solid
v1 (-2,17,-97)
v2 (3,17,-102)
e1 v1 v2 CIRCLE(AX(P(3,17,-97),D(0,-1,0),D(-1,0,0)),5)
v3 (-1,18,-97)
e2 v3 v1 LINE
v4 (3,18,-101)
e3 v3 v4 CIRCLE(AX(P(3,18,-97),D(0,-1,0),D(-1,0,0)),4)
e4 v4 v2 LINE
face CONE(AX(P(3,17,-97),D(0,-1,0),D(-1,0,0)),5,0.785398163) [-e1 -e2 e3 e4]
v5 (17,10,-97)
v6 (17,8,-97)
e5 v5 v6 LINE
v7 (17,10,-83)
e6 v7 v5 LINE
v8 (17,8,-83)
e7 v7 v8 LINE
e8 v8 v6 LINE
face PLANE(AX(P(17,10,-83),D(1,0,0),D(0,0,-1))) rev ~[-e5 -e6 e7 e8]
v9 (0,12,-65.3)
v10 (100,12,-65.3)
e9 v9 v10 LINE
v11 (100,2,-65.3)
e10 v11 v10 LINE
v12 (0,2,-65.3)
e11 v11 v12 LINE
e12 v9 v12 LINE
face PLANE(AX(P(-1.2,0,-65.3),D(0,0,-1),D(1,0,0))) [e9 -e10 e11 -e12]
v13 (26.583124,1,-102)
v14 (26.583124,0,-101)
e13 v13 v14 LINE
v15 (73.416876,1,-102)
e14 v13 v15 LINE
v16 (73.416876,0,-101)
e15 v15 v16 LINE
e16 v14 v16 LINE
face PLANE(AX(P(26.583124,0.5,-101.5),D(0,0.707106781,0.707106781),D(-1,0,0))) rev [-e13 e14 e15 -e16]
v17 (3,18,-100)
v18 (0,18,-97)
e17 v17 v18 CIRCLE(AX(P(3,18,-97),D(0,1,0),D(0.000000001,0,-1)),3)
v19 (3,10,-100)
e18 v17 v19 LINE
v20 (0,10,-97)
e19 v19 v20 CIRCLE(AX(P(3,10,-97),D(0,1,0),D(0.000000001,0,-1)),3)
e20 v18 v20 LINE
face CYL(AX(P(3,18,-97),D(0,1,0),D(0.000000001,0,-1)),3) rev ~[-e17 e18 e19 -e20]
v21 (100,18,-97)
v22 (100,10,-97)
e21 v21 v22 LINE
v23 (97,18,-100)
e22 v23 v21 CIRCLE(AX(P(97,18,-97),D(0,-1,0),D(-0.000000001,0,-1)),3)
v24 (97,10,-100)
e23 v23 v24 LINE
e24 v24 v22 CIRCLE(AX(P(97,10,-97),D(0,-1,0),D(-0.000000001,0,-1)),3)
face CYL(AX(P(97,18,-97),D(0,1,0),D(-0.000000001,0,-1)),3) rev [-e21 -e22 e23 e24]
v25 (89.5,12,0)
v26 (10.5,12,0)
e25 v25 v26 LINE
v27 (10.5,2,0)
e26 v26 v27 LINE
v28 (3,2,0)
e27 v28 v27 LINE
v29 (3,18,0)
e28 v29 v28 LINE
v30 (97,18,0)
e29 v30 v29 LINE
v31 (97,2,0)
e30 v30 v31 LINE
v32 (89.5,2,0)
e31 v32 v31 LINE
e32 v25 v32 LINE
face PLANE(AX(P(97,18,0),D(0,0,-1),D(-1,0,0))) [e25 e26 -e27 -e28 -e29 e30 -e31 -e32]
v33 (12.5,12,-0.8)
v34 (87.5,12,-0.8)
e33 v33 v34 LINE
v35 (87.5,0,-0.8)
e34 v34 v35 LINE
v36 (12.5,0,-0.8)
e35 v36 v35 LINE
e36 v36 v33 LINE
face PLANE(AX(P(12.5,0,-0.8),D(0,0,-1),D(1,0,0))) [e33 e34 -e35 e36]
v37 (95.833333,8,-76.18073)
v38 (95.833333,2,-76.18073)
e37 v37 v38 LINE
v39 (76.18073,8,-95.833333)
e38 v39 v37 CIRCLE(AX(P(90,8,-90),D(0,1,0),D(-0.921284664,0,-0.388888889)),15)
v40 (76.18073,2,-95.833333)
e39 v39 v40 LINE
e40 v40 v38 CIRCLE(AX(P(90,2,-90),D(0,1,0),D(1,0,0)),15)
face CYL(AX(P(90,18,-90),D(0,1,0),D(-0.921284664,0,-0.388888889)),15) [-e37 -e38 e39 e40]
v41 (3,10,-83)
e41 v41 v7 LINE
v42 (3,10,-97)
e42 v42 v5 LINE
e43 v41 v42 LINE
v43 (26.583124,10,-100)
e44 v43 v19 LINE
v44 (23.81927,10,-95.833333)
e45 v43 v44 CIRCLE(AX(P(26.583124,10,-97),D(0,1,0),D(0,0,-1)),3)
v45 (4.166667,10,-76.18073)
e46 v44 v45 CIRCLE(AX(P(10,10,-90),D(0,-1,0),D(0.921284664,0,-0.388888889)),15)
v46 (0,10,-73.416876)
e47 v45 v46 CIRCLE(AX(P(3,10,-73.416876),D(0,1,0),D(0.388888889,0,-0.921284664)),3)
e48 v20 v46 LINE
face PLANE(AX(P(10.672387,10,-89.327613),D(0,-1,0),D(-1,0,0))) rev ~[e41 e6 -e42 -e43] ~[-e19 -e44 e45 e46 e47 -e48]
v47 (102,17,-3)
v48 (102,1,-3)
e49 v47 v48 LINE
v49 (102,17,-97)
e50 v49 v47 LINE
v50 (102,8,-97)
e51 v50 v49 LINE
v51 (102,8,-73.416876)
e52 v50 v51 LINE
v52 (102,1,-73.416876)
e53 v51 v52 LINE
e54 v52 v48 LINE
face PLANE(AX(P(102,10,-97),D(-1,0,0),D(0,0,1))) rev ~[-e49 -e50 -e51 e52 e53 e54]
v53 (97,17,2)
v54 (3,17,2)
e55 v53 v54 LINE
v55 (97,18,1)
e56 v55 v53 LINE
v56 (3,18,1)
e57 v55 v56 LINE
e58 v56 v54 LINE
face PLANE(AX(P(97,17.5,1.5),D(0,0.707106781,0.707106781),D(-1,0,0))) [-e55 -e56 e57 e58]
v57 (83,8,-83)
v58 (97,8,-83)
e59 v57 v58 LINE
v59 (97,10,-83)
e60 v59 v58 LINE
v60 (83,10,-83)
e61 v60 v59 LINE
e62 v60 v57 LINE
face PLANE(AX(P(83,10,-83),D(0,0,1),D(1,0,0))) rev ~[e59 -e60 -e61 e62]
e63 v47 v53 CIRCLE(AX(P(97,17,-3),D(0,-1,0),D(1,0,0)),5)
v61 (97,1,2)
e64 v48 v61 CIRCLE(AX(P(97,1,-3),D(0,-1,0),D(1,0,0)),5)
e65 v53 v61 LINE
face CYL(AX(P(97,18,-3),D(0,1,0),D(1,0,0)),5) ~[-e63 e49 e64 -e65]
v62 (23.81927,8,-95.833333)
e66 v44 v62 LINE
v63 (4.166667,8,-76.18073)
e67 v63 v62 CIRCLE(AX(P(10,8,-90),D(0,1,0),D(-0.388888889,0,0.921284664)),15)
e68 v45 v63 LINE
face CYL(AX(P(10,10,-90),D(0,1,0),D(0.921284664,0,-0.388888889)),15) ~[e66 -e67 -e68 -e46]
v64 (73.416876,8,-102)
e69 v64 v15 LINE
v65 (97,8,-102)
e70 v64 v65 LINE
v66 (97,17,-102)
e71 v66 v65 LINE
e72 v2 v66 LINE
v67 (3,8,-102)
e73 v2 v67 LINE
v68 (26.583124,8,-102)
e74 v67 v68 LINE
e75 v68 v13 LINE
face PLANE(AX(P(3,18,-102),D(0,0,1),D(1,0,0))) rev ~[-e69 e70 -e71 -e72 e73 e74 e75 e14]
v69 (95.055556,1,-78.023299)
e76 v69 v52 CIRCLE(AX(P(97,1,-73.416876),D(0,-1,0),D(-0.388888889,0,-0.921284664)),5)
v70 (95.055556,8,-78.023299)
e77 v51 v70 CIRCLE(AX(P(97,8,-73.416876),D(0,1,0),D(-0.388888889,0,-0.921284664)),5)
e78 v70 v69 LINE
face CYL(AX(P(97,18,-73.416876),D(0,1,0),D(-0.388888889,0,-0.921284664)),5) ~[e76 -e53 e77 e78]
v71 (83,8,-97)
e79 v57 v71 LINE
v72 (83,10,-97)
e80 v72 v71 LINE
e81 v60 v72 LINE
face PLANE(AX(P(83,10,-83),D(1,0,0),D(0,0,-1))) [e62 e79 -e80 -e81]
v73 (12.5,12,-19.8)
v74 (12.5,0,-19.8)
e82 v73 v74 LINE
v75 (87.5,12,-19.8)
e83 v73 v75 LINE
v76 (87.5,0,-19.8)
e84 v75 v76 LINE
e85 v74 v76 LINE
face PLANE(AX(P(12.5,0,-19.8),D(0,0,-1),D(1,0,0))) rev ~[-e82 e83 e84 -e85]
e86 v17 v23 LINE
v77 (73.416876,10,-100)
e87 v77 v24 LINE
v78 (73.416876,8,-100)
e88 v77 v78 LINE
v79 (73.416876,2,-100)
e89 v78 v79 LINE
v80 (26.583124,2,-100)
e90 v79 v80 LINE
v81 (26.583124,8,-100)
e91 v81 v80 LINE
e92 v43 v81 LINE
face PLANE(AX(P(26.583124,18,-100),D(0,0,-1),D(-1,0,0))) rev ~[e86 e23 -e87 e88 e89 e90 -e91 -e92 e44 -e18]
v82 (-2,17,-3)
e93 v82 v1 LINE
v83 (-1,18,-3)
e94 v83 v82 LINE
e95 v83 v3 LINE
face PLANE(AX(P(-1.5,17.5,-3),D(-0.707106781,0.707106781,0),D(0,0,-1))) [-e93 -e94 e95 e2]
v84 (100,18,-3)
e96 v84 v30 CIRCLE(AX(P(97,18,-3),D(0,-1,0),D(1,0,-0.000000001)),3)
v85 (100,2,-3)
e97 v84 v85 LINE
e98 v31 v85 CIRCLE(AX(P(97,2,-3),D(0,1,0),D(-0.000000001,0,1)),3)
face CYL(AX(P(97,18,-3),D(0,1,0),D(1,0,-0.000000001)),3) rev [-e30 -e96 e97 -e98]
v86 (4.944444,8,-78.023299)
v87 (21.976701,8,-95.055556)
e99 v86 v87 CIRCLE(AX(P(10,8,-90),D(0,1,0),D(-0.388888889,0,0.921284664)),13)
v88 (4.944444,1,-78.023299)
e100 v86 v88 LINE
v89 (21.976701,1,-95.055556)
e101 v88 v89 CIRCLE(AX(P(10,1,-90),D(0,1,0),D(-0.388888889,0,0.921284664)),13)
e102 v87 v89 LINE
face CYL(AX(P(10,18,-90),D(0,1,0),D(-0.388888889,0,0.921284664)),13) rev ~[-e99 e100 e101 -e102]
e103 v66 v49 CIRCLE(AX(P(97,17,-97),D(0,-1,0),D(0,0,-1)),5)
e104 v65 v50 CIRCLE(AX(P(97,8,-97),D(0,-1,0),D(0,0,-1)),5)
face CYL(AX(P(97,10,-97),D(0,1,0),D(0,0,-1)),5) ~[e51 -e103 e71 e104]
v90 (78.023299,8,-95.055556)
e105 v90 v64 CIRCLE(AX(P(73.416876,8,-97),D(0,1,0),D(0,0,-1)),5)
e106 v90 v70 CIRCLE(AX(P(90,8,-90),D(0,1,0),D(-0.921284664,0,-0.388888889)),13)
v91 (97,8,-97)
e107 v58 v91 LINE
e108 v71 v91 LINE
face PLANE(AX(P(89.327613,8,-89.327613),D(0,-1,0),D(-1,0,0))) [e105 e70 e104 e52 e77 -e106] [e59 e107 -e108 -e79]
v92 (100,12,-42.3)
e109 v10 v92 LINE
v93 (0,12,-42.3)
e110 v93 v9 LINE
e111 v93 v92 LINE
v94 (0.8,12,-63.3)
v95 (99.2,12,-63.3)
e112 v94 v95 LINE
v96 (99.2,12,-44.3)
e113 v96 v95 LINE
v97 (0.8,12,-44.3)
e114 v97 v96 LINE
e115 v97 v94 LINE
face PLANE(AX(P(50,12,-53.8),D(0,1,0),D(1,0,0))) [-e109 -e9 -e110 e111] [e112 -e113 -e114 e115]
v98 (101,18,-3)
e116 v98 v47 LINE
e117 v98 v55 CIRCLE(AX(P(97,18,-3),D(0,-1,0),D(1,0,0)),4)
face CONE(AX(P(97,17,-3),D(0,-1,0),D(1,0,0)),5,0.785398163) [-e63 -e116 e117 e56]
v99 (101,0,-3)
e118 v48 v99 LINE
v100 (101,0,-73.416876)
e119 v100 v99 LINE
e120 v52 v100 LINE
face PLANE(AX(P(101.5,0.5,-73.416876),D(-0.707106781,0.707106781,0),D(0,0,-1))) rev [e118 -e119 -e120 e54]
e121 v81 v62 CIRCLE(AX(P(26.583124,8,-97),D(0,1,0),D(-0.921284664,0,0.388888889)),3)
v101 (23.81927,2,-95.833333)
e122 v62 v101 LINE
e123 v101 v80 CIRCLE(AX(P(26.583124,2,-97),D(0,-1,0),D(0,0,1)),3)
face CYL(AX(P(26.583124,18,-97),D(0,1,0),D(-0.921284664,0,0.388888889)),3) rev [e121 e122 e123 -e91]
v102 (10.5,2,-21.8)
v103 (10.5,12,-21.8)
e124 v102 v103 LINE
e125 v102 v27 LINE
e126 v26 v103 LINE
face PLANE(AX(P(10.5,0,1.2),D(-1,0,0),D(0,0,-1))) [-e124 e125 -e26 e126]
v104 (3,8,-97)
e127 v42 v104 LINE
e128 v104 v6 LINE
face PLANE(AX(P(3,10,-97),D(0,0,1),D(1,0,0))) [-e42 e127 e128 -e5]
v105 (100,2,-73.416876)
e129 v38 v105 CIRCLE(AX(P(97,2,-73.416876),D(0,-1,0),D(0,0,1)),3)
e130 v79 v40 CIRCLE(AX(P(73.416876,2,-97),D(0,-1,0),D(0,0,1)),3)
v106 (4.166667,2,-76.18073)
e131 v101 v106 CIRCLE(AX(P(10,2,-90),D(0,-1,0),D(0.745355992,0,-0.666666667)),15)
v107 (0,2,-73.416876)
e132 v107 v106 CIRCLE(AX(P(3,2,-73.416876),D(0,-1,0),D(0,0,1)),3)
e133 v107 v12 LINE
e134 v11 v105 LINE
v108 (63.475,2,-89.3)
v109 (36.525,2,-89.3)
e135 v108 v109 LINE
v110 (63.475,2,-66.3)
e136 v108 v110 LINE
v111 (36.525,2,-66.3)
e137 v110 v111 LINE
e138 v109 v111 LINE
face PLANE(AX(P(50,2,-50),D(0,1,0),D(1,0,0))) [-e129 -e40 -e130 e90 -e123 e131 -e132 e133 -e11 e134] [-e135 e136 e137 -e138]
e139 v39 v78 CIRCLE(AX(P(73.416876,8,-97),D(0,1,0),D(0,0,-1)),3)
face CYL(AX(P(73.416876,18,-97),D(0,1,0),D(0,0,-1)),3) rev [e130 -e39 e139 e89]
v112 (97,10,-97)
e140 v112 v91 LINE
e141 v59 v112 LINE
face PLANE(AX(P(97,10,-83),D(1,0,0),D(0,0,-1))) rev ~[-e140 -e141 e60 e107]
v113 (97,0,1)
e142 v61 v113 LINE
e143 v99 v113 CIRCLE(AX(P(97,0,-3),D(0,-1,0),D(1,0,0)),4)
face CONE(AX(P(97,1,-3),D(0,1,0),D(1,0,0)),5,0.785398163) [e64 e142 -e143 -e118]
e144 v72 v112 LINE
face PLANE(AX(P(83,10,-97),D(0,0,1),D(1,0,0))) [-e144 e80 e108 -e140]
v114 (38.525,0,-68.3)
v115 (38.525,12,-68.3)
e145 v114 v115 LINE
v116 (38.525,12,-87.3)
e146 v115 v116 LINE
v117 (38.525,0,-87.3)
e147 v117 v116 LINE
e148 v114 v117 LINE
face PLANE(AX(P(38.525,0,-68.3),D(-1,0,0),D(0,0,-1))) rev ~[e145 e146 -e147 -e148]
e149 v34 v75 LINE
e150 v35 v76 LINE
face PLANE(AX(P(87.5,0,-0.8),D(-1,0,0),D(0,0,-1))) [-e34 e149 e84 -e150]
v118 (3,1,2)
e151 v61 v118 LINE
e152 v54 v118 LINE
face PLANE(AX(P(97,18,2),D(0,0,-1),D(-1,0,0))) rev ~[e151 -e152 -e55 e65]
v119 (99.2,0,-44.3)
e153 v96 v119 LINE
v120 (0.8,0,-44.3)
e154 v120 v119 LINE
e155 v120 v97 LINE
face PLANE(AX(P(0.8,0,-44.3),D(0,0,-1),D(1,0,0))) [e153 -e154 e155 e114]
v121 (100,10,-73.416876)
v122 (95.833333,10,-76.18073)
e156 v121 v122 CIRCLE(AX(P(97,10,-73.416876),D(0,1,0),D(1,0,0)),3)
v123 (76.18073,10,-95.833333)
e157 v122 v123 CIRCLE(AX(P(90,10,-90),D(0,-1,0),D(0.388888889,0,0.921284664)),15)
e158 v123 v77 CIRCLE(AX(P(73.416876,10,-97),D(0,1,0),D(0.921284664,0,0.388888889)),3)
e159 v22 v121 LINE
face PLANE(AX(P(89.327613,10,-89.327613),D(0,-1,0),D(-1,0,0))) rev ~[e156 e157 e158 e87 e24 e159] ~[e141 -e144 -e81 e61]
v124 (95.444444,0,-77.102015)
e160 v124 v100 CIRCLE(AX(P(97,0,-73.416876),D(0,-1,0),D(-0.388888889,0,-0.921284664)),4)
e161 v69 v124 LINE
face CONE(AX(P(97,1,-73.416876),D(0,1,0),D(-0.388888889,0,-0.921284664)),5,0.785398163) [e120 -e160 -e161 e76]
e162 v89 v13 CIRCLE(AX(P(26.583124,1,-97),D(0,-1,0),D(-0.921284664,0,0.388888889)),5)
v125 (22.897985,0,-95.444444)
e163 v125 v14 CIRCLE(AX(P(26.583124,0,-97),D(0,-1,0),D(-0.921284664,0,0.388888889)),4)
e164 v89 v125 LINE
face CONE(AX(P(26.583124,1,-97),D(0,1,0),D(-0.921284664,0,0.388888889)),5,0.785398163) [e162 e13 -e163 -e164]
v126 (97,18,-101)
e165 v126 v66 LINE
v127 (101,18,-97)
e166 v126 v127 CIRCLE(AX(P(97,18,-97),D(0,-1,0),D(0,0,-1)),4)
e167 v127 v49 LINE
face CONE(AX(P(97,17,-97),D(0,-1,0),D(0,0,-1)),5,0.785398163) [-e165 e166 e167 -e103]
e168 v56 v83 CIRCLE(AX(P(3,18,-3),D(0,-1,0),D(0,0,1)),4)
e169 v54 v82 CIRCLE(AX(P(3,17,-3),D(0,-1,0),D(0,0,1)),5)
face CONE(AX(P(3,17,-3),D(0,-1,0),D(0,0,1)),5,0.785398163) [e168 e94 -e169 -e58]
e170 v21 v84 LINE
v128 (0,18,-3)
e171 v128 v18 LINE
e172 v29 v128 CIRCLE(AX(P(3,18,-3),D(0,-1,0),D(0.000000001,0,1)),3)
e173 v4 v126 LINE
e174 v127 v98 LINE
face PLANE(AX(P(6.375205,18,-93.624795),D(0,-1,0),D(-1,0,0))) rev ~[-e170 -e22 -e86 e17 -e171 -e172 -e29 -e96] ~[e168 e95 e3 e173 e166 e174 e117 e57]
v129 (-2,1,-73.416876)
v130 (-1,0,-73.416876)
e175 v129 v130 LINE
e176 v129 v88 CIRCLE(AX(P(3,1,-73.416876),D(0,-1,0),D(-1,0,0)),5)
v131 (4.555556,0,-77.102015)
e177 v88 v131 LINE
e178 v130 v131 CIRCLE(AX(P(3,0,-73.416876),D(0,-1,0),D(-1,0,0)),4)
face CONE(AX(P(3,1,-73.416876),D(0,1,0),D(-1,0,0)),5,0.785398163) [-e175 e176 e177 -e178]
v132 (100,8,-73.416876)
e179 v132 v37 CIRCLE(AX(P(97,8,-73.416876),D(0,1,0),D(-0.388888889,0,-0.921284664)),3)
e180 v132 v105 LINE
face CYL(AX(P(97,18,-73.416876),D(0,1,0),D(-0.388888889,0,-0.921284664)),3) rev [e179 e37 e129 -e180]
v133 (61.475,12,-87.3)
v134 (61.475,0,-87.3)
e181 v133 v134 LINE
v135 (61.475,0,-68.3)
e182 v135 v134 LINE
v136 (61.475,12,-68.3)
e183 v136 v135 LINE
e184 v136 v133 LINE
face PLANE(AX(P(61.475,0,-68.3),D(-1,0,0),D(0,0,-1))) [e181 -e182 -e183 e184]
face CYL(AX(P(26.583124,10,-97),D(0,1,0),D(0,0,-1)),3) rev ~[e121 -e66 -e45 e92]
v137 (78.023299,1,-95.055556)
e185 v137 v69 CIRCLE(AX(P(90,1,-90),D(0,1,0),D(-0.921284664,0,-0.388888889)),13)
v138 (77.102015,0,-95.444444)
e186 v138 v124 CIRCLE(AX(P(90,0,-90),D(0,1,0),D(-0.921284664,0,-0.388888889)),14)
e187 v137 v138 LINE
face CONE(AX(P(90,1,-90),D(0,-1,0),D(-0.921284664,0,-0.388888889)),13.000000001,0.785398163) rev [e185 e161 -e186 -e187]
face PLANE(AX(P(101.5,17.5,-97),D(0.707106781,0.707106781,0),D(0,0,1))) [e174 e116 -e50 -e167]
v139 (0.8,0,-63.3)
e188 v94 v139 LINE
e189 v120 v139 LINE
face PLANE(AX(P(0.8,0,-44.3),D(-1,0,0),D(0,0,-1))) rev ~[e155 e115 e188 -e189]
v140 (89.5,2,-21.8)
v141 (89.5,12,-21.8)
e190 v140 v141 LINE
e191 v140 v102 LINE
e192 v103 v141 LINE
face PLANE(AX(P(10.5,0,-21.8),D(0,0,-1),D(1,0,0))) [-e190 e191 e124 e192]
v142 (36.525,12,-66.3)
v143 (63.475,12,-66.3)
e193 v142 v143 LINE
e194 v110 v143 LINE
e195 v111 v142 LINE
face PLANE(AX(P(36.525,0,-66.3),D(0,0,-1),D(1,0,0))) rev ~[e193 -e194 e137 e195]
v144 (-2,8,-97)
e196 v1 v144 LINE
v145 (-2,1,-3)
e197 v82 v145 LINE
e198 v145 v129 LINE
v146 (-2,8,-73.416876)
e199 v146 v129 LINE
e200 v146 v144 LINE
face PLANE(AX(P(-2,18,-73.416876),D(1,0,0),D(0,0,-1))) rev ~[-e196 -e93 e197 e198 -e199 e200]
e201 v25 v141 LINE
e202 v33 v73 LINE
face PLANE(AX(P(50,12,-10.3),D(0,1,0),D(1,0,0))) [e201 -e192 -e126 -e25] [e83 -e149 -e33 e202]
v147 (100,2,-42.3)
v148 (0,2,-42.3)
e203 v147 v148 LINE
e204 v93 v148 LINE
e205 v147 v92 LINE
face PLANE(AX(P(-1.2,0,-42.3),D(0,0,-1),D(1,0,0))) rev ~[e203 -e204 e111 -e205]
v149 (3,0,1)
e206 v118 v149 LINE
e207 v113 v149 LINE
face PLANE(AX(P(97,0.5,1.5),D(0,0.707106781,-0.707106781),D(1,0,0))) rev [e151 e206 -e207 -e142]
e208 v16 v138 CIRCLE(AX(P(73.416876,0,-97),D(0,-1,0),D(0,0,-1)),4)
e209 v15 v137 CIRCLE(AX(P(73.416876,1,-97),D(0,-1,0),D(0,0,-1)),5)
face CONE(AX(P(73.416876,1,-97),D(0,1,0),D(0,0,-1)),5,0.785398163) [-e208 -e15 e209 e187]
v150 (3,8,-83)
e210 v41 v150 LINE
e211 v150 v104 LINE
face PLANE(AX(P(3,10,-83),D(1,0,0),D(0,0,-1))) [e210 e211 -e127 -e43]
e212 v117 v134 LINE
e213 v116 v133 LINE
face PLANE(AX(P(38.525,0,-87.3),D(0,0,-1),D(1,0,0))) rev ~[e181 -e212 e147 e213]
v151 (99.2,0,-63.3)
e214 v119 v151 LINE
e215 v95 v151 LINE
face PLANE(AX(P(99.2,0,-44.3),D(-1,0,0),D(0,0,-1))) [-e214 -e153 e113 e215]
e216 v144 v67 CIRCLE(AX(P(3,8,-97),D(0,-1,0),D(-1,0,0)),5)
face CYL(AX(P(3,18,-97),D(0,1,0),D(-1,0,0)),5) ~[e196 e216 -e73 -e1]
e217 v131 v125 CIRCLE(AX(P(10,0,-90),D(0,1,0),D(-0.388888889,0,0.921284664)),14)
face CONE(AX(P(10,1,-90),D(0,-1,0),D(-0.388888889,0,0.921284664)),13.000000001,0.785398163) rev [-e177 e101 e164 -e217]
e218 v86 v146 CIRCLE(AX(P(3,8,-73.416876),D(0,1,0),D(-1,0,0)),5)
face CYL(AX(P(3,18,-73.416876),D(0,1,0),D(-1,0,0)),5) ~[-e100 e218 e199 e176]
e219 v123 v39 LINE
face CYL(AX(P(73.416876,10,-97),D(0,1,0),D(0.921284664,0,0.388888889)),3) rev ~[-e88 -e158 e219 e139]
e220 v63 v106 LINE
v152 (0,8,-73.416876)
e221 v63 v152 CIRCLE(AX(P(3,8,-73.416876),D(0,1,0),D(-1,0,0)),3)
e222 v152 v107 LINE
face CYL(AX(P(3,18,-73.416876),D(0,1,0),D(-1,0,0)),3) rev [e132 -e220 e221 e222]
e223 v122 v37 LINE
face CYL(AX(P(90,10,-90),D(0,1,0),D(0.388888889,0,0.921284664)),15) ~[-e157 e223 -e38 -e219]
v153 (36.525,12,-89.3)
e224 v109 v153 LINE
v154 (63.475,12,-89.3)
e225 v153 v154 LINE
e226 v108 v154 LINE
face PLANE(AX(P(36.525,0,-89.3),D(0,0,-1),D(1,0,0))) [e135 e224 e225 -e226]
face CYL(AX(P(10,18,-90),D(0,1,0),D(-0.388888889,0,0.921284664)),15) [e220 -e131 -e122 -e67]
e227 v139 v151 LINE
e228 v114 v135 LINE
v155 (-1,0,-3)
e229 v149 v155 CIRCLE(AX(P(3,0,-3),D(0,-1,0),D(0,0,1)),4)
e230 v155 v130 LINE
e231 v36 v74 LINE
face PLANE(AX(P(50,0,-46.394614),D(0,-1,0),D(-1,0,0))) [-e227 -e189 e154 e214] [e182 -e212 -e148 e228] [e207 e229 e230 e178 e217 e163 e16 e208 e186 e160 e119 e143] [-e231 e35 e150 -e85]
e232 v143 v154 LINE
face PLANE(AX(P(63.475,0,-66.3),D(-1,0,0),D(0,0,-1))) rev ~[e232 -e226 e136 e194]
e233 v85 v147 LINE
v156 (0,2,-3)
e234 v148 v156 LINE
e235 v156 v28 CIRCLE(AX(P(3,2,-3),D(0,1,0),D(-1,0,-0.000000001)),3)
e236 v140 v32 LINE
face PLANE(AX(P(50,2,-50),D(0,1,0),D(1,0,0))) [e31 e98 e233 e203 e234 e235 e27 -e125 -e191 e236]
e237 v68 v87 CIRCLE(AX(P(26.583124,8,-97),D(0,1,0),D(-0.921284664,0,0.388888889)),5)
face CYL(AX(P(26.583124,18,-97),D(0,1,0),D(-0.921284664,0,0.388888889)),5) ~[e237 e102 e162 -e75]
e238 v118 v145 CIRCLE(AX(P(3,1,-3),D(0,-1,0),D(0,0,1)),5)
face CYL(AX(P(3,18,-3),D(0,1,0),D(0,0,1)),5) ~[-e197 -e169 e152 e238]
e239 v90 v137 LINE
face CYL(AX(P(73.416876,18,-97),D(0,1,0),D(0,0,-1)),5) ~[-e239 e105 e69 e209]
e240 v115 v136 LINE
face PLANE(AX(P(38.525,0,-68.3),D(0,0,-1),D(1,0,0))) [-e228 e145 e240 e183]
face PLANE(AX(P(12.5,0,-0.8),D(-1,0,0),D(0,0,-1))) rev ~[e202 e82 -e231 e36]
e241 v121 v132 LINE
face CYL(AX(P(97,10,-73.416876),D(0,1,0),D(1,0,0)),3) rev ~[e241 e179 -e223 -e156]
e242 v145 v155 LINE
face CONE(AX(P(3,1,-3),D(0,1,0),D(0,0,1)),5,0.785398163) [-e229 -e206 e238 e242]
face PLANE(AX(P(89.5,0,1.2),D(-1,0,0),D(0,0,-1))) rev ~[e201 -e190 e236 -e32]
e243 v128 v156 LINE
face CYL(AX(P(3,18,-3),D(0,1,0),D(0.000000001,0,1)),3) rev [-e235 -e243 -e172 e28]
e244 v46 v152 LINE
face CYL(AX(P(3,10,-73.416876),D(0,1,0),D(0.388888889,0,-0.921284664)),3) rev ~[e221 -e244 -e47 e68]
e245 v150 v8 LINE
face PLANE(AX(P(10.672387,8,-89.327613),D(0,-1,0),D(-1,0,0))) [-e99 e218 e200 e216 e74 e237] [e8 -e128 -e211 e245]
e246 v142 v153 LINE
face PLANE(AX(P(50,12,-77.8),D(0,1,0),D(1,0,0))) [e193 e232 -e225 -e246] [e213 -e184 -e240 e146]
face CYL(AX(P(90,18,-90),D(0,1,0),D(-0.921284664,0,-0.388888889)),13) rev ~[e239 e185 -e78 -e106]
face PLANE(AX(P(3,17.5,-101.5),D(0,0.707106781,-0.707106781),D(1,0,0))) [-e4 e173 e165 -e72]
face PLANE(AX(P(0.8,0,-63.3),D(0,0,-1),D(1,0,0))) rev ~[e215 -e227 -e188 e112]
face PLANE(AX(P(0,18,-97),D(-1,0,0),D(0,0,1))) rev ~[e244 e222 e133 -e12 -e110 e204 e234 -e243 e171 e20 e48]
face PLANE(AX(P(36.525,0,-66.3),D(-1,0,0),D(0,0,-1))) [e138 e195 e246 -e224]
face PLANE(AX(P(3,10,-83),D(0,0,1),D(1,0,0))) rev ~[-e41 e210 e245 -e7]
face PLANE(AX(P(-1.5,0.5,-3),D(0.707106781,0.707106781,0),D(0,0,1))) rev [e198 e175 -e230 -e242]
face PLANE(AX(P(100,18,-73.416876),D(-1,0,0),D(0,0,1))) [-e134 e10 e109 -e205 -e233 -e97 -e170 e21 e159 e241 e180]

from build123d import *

# Parameters (mm, degrees)
SKETCH_1_W          = 22.95
SKETCH_1_H          = 19
SKETCH_1_W_2        = 75
SKETCH_1_W_3        = 98.4
EXTRUDE_7_DEPTH     = 2
SKETCH_4_R          = 15
CUT_EXTRUDE_1_DEPTH = 18
FILLET_1_R          = 3
FILLET_2_R          = 3
SKETCH_1_6_W        = 26.95
SKETCH_1_6_H        = 23
SKETCH_1_6_W_2      = 22.95
SKETCH_1_6_H_2      = 19
EXTRUDE_3_DEPTH     = 12
SKETCH_1_7_W        = 102.4
SKETCH_1_7_H        = 23
SKETCH_1_7_W_2      = 98.4
SKETCH_1_7_H_2      = 19
EXTRUDE_4_DEPTH     = 12
SKETCH_1_8_W        = 79
SKETCH_1_8_H        = 23
SKETCH_1_8_W_2      = 75
SKETCH_1_8_H_2      = 19
EXTRUDE_5_DEPTH     = 12
EXTRUDE_START       = 16
EXTRUDE_7_2_DEPTH   = 18
SKETCH_11_W         = 28.583123952
SKETCH_11_H         = 28.583123952
CUT_EXTRUDE_8_DEPTH = 10
EXTRUDE_START_2     = 2
SKETCH_13_W         = 14
SKETCH_13_H         = 14
EXTRUDE_8_DEPTH     = 2
SKETCH_15_W         = 14
SKETCH_15_H         = 14
EXTRUDE_9_DEPTH     = 2
EXTRUDE_START_3     = 8
EXTRUDE_12_DEPTH    = 8
CHAMFER_1_SIZE      = 1
CHAMFER_2_SIZE      = 1


with BuildPart() as part:
    # 草图1 → Extrude 7 (new body)
    with BuildSketch(Plane(origin=(0, 0, 0), x_dir=(1, 0, 0), z_dir=(0, 1, 0))):
        with BuildLine():
            Line((3, 0), (97, 0))
            ThreePointArc((97, 0), (99.121320344, 0.878679656), (100, 3))
            Line((100, 3), (100, 97))
            ThreePointArc((100, 97), (99.121320344, 99.121320344), (97, 100))
            Line((97, 100), (3, 100))
            ThreePointArc((3, 100), (0.878679656, 99.121320344), (0, 97))
            Line((0, 97), (0, 3))
            ThreePointArc((0, 3), (0.878679656, 0.878679656), (3, 0))
        make_face()
        with Locations((50, 77.8)):
            Rectangle(SKETCH_1_W, SKETCH_1_H, mode=Mode.SUBTRACT)
        with Locations((50, 10.3)):
            Rectangle(SKETCH_1_W_2, SKETCH_1_H, mode=Mode.SUBTRACT)
        with Locations((50, 53.8)):
            Rectangle(SKETCH_1_W_3, SKETCH_1_H, mode=Mode.SUBTRACT)
    extrude(amount=EXTRUDE_7_DEPTH)

    # 草图4 → 切除-拉伸1 (cut)
    with BuildSketch(Plane(origin=(0, 2, 0), x_dir=(1, 0, 0), z_dir=(0, 1, 0))):
        with Locations((10, 90)):
            Circle(SKETCH_4_R)
        with Locations((90, 90)):
            Circle(SKETCH_4_R)
    extrude(amount=-CUT_EXTRUDE_1_DEPTH, mode=Mode.SUBTRACT)

    # 圆角1
    fillet_1_edges = [part.edges().sort_by_distance(p)[0] for p in [
        (21.180339887, 1, -100),
        (0, 1, -78.819660113),
    ]]
    fillet(fillet_1_edges, radius=FILLET_1_R)

    # 圆角2
    fillet_2_edges = [part.edges().sort_by_distance(p)[0] for p in [
        (78.819660113, 1, -100),
        (100, 1, -78.819660113),
    ]]
    fillet(fillet_2_edges, radius=FILLET_2_R)

    # 草图1<6> → 拉伸-薄壁3 (add)
    with BuildSketch(Plane(origin=(0, 0, 0), x_dir=(1, 0, 0), z_dir=(0, 1, 0))):
        with Locations((50, 77.8)):
            Rectangle(SKETCH_1_6_W, SKETCH_1_6_H)
        with Locations((50, 77.8)):
            Rectangle(SKETCH_1_6_W_2, SKETCH_1_6_H_2, mode=Mode.SUBTRACT)
    extrude(amount=EXTRUDE_3_DEPTH)

    # 草图1<7> → 拉伸-薄壁4 (add)
    with BuildSketch(Plane(origin=(0, 0, 0), x_dir=(1, 0, 0), z_dir=(0, 1, 0))):
        with Locations((50, 53.8)):
            Rectangle(SKETCH_1_7_W, SKETCH_1_7_H)
        with Locations((50, 53.8)):
            Rectangle(SKETCH_1_7_W_2, SKETCH_1_7_H_2, mode=Mode.SUBTRACT)
    extrude(amount=EXTRUDE_4_DEPTH)

    # 草图1<8> → 拉伸-薄壁5 (add)
    with BuildSketch(Plane(origin=(0, 0, 0), x_dir=(1, 0, 0), z_dir=(0, 1, 0))):
        with Locations((50, 10.3)):
            Rectangle(SKETCH_1_8_W, SKETCH_1_8_H)
        with Locations((50, 10.3)):
            Rectangle(SKETCH_1_8_W_2, SKETCH_1_8_H_2, mode=Mode.SUBTRACT)
    extrude(amount=EXTRUDE_5_DEPTH)

    # 草图10 → Extrude 7 2 (add)
    with BuildSketch(Plane(origin=(0, 2, 0), x_dir=(1, 0, 0), z_dir=(0, 1, 0)).offset(EXTRUDE_START)):
        with BuildLine():
            Line((-2, 3), (-2, 73.416876048))
            ThreePointArc((-2, 73.416876048), (0.236146008, 77.583542715), (4.944444444, 78.023299368))
            ThreePointArc((4.944444444, 78.023299368), (19.192388155, 80.807611845), (21.976700632, 95.055555556))
            ThreePointArc((21.976700632, 95.055555556), (22.416457285, 99.763853992), (26.583123952, 102))
            Line((26.583123952, 102), (73.416876048, 102))
            ThreePointArc((73.416876048, 102), (77.583542715, 99.763853992), (78.023299368, 95.055555556))
            ThreePointArc((78.023299368, 95.055555556), (80.807611845, 80.807611845), (95.055555556, 78.023299368))
            ThreePointArc((95.055555556, 78.023299368), (99.763853992, 77.583542715), (102, 73.416876048))
            Line((102, 73.416876048), (102, 3))
            ThreePointArc((102, 3), (100.535533906, -0.535533906), (97, -2))
            Line((97, -2), (3, -2))
            ThreePointArc((3, -2), (-0.535533906, -0.535533906), (-2, 3))
        make_face()
        with BuildLine():
            Line((0, 3), (0, 73.416876048))
            ThreePointArc((0, 73.416876048), (1.341687605, 75.916876048), (4.166666667, 76.18073004))
            ThreePointArc((4.166666667, 76.18073004), (20.606601718, 79.393398282), (23.81926996, 95.833333333))
            ThreePointArc((23.81926996, 95.833333333), (24.083123952, 98.658312395), (26.583123952, 100))
            Line((26.583123952, 100), (73.416876048, 100))
            ThreePointArc((73.416876048, 100), (75.916876048, 98.658312395), (76.18073004, 95.833333333))
            ThreePointArc((76.18073004, 95.833333333), (79.393398282, 79.393398282), (95.833333333, 76.18073004))
            ThreePointArc((95.833333333, 76.18073004), (98.658312395, 75.916876048), (100, 73.416876048))
            Line((100, 73.416876048), (100, 3))
            ThreePointArc((100, 3), (99.121320344, 0.878679656), (97, 0))
            Line((97, 0), (3, 0))
            ThreePointArc((3, 0), (0.878679656, 0.878679656), (0, 3))
        make_face(mode=Mode.SUBTRACT)
    extrude(amount=-EXTRUDE_7_2_DEPTH)

    # 草图11 → 切除-拉伸8 (cut)
    with BuildSketch(Plane(origin=(0, 18, 0), x_dir=(1, 0, 0), z_dir=(0, 1, 0))):
        with Locations((87.708438024, 87.708438024)):
            Rectangle(SKETCH_11_W, SKETCH_11_H)
        with Locations((12.291561976, 87.708438024)):
            Rectangle(SKETCH_11_W, SKETCH_11_H)
    extrude(amount=-CUT_EXTRUDE_8_DEPTH, mode=Mode.SUBTRACT)

    # 草图13 → 凸台-拉伸8 (add)
    with BuildSketch(Plane(origin=(0, 8, 0), x_dir=(1, 0, 0), z_dir=(0, 1, 0)).offset(EXTRUDE_START_2)):
        with BuildLine():
            Line((26.583123952, 102), (26.583123952, 100))
            ThreePointArc((26.583123952, 100), (24.083123952, 98.658312395), (23.81926996, 95.833333333))
            ThreePointArc((23.81926996, 95.833333333), (20.606601718, 79.393398282), (4.166666667, 76.18073004))
            ThreePointArc((4.166666667, 76.18073004), (1.341687605, 75.916876048), (0, 73.416876048))
            Line((0, 73.416876048), (-2, 73.416876048))
            Line((-2, 73.416876048), (-2, 97))
            ThreePointArc((-2, 97), (-0.535533906, 100.535533906), (3, 102))
            Line((3, 102), (26.583123952, 102))
        make_face()
        with Locations((10, 90)):
            Rectangle(SKETCH_13_W, SKETCH_13_H, mode=Mode.SUBTRACT)
    extrude(amount=-EXTRUDE_8_DEPTH)

    # 草图15 → 凸台-拉伸9 (add)
    with BuildSketch(Plane(origin=(0, 8, 0), x_dir=(1, 0, 0), z_dir=(0, 1, 0)).offset(EXTRUDE_START_2)):
        with BuildLine():
            Line((73.416876048, 102), (97, 102))
            ThreePointArc((97, 102), (100.535533906, 100.535533906), (102, 97))
            Line((102, 97), (102, 73.416876048))
            Line((102, 73.416876048), (100, 73.416876048))
            ThreePointArc((100, 73.416876048), (98.658312395, 75.916876048), (95.833333333, 76.18073004))
            ThreePointArc((95.833333333, 76.18073004), (79.393398282, 79.393398282), (76.18073004, 95.833333333))
            ThreePointArc((76.18073004, 95.833333333), (75.916876048, 98.658312395), (73.416876048, 100))
            Line((73.416876048, 100), (73.416876048, 102))
        make_face()
        with Locations((90, 90)):
            Rectangle(SKETCH_15_W, SKETCH_15_H, mode=Mode.SUBTRACT)
    extrude(amount=-EXTRUDE_9_DEPTH)

    # 草图18 → 凸台-拉伸12 (add)
    with BuildSketch(Plane(origin=(0, 10, 0), x_dir=(1, 0, 0), z_dir=(0, 1, 0)).offset(EXTRUDE_START_3)):
        with BuildLine():
            Line((0, 73.416876048), (-2, 73.416876048))
            Line((-2, 73.416876048), (-2, 97))
            ThreePointArc((-2, 97), (-0.535533906, 100.535533906), (3, 102))
            Line((3, 102), (26.583123952, 102))
            Line((26.583123952, 102), (26.583123952, 100))
            Line((26.583123952, 100), (3, 100))
            ThreePointArc((3, 100), (0.878679656, 99.121320344), (0, 97))
            Line((0, 97), (0, 73.416876048))
        make_face()
        with BuildLine():
            Line((73.416876048, 102), (73.416876048, 100))
            Line((73.416876048, 100), (97, 100))
            ThreePointArc((97, 100), (99.121320344, 99.121320344), (100, 97))
            Line((100, 97), (100, 73.416876048))
            Line((100, 73.416876048), (102, 73.416876048))
            Line((102, 73.416876048), (102, 97))
            ThreePointArc((102, 97), (100.535533906, 100.535533906), (97, 102))
            Line((97, 102), (73.416876048, 102))
        make_face()
    extrude(amount=-EXTRUDE_12_DEPTH)

    # 倒角1
    chamfer_1_edges = [part.edges().sort_by_distance(p)[0] for p in [
        (50, 0, 2),
        (-0.535533906, 0, 0.535533906),
        (-2, 0, -38.208438024),
        (0.236146008, 0, -77.583542715),
        (22.416457285, 0, -99.763853992),
        (50, 0, -102),
        (77.583542715, 0, -99.763853992),
        (99.763853992, 0, -77.583542715),
        (102, 0, -38.208438024),
        (100.535533906, 0, 0.535533906),
        (80.807611845, 0, -80.807611845),
        (19.192388155, 0, -80.807611845),
    ]]
    chamfer(chamfer_1_edges, length=CHAMFER_1_SIZE)

    # 倒角2
    chamfer_2_edges = [part.edges().sort_by_distance(p)[0] for p in [
        (50, 18, 2),
        (100.535533906, 18, 0.535533906),
        (102, 18, -50),
        (50, 18, -102),
        (-2, 18, -50),
        (-0.535533906, 18, 0.535533906),
        (100.535533906, 18, -100.535533906),
        (-0.535533906, 18, -100.535533906),
    ]]
    chamfer(chamfer_2_edges, length=CHAMFER_2_SIZE)


solid = part.part
